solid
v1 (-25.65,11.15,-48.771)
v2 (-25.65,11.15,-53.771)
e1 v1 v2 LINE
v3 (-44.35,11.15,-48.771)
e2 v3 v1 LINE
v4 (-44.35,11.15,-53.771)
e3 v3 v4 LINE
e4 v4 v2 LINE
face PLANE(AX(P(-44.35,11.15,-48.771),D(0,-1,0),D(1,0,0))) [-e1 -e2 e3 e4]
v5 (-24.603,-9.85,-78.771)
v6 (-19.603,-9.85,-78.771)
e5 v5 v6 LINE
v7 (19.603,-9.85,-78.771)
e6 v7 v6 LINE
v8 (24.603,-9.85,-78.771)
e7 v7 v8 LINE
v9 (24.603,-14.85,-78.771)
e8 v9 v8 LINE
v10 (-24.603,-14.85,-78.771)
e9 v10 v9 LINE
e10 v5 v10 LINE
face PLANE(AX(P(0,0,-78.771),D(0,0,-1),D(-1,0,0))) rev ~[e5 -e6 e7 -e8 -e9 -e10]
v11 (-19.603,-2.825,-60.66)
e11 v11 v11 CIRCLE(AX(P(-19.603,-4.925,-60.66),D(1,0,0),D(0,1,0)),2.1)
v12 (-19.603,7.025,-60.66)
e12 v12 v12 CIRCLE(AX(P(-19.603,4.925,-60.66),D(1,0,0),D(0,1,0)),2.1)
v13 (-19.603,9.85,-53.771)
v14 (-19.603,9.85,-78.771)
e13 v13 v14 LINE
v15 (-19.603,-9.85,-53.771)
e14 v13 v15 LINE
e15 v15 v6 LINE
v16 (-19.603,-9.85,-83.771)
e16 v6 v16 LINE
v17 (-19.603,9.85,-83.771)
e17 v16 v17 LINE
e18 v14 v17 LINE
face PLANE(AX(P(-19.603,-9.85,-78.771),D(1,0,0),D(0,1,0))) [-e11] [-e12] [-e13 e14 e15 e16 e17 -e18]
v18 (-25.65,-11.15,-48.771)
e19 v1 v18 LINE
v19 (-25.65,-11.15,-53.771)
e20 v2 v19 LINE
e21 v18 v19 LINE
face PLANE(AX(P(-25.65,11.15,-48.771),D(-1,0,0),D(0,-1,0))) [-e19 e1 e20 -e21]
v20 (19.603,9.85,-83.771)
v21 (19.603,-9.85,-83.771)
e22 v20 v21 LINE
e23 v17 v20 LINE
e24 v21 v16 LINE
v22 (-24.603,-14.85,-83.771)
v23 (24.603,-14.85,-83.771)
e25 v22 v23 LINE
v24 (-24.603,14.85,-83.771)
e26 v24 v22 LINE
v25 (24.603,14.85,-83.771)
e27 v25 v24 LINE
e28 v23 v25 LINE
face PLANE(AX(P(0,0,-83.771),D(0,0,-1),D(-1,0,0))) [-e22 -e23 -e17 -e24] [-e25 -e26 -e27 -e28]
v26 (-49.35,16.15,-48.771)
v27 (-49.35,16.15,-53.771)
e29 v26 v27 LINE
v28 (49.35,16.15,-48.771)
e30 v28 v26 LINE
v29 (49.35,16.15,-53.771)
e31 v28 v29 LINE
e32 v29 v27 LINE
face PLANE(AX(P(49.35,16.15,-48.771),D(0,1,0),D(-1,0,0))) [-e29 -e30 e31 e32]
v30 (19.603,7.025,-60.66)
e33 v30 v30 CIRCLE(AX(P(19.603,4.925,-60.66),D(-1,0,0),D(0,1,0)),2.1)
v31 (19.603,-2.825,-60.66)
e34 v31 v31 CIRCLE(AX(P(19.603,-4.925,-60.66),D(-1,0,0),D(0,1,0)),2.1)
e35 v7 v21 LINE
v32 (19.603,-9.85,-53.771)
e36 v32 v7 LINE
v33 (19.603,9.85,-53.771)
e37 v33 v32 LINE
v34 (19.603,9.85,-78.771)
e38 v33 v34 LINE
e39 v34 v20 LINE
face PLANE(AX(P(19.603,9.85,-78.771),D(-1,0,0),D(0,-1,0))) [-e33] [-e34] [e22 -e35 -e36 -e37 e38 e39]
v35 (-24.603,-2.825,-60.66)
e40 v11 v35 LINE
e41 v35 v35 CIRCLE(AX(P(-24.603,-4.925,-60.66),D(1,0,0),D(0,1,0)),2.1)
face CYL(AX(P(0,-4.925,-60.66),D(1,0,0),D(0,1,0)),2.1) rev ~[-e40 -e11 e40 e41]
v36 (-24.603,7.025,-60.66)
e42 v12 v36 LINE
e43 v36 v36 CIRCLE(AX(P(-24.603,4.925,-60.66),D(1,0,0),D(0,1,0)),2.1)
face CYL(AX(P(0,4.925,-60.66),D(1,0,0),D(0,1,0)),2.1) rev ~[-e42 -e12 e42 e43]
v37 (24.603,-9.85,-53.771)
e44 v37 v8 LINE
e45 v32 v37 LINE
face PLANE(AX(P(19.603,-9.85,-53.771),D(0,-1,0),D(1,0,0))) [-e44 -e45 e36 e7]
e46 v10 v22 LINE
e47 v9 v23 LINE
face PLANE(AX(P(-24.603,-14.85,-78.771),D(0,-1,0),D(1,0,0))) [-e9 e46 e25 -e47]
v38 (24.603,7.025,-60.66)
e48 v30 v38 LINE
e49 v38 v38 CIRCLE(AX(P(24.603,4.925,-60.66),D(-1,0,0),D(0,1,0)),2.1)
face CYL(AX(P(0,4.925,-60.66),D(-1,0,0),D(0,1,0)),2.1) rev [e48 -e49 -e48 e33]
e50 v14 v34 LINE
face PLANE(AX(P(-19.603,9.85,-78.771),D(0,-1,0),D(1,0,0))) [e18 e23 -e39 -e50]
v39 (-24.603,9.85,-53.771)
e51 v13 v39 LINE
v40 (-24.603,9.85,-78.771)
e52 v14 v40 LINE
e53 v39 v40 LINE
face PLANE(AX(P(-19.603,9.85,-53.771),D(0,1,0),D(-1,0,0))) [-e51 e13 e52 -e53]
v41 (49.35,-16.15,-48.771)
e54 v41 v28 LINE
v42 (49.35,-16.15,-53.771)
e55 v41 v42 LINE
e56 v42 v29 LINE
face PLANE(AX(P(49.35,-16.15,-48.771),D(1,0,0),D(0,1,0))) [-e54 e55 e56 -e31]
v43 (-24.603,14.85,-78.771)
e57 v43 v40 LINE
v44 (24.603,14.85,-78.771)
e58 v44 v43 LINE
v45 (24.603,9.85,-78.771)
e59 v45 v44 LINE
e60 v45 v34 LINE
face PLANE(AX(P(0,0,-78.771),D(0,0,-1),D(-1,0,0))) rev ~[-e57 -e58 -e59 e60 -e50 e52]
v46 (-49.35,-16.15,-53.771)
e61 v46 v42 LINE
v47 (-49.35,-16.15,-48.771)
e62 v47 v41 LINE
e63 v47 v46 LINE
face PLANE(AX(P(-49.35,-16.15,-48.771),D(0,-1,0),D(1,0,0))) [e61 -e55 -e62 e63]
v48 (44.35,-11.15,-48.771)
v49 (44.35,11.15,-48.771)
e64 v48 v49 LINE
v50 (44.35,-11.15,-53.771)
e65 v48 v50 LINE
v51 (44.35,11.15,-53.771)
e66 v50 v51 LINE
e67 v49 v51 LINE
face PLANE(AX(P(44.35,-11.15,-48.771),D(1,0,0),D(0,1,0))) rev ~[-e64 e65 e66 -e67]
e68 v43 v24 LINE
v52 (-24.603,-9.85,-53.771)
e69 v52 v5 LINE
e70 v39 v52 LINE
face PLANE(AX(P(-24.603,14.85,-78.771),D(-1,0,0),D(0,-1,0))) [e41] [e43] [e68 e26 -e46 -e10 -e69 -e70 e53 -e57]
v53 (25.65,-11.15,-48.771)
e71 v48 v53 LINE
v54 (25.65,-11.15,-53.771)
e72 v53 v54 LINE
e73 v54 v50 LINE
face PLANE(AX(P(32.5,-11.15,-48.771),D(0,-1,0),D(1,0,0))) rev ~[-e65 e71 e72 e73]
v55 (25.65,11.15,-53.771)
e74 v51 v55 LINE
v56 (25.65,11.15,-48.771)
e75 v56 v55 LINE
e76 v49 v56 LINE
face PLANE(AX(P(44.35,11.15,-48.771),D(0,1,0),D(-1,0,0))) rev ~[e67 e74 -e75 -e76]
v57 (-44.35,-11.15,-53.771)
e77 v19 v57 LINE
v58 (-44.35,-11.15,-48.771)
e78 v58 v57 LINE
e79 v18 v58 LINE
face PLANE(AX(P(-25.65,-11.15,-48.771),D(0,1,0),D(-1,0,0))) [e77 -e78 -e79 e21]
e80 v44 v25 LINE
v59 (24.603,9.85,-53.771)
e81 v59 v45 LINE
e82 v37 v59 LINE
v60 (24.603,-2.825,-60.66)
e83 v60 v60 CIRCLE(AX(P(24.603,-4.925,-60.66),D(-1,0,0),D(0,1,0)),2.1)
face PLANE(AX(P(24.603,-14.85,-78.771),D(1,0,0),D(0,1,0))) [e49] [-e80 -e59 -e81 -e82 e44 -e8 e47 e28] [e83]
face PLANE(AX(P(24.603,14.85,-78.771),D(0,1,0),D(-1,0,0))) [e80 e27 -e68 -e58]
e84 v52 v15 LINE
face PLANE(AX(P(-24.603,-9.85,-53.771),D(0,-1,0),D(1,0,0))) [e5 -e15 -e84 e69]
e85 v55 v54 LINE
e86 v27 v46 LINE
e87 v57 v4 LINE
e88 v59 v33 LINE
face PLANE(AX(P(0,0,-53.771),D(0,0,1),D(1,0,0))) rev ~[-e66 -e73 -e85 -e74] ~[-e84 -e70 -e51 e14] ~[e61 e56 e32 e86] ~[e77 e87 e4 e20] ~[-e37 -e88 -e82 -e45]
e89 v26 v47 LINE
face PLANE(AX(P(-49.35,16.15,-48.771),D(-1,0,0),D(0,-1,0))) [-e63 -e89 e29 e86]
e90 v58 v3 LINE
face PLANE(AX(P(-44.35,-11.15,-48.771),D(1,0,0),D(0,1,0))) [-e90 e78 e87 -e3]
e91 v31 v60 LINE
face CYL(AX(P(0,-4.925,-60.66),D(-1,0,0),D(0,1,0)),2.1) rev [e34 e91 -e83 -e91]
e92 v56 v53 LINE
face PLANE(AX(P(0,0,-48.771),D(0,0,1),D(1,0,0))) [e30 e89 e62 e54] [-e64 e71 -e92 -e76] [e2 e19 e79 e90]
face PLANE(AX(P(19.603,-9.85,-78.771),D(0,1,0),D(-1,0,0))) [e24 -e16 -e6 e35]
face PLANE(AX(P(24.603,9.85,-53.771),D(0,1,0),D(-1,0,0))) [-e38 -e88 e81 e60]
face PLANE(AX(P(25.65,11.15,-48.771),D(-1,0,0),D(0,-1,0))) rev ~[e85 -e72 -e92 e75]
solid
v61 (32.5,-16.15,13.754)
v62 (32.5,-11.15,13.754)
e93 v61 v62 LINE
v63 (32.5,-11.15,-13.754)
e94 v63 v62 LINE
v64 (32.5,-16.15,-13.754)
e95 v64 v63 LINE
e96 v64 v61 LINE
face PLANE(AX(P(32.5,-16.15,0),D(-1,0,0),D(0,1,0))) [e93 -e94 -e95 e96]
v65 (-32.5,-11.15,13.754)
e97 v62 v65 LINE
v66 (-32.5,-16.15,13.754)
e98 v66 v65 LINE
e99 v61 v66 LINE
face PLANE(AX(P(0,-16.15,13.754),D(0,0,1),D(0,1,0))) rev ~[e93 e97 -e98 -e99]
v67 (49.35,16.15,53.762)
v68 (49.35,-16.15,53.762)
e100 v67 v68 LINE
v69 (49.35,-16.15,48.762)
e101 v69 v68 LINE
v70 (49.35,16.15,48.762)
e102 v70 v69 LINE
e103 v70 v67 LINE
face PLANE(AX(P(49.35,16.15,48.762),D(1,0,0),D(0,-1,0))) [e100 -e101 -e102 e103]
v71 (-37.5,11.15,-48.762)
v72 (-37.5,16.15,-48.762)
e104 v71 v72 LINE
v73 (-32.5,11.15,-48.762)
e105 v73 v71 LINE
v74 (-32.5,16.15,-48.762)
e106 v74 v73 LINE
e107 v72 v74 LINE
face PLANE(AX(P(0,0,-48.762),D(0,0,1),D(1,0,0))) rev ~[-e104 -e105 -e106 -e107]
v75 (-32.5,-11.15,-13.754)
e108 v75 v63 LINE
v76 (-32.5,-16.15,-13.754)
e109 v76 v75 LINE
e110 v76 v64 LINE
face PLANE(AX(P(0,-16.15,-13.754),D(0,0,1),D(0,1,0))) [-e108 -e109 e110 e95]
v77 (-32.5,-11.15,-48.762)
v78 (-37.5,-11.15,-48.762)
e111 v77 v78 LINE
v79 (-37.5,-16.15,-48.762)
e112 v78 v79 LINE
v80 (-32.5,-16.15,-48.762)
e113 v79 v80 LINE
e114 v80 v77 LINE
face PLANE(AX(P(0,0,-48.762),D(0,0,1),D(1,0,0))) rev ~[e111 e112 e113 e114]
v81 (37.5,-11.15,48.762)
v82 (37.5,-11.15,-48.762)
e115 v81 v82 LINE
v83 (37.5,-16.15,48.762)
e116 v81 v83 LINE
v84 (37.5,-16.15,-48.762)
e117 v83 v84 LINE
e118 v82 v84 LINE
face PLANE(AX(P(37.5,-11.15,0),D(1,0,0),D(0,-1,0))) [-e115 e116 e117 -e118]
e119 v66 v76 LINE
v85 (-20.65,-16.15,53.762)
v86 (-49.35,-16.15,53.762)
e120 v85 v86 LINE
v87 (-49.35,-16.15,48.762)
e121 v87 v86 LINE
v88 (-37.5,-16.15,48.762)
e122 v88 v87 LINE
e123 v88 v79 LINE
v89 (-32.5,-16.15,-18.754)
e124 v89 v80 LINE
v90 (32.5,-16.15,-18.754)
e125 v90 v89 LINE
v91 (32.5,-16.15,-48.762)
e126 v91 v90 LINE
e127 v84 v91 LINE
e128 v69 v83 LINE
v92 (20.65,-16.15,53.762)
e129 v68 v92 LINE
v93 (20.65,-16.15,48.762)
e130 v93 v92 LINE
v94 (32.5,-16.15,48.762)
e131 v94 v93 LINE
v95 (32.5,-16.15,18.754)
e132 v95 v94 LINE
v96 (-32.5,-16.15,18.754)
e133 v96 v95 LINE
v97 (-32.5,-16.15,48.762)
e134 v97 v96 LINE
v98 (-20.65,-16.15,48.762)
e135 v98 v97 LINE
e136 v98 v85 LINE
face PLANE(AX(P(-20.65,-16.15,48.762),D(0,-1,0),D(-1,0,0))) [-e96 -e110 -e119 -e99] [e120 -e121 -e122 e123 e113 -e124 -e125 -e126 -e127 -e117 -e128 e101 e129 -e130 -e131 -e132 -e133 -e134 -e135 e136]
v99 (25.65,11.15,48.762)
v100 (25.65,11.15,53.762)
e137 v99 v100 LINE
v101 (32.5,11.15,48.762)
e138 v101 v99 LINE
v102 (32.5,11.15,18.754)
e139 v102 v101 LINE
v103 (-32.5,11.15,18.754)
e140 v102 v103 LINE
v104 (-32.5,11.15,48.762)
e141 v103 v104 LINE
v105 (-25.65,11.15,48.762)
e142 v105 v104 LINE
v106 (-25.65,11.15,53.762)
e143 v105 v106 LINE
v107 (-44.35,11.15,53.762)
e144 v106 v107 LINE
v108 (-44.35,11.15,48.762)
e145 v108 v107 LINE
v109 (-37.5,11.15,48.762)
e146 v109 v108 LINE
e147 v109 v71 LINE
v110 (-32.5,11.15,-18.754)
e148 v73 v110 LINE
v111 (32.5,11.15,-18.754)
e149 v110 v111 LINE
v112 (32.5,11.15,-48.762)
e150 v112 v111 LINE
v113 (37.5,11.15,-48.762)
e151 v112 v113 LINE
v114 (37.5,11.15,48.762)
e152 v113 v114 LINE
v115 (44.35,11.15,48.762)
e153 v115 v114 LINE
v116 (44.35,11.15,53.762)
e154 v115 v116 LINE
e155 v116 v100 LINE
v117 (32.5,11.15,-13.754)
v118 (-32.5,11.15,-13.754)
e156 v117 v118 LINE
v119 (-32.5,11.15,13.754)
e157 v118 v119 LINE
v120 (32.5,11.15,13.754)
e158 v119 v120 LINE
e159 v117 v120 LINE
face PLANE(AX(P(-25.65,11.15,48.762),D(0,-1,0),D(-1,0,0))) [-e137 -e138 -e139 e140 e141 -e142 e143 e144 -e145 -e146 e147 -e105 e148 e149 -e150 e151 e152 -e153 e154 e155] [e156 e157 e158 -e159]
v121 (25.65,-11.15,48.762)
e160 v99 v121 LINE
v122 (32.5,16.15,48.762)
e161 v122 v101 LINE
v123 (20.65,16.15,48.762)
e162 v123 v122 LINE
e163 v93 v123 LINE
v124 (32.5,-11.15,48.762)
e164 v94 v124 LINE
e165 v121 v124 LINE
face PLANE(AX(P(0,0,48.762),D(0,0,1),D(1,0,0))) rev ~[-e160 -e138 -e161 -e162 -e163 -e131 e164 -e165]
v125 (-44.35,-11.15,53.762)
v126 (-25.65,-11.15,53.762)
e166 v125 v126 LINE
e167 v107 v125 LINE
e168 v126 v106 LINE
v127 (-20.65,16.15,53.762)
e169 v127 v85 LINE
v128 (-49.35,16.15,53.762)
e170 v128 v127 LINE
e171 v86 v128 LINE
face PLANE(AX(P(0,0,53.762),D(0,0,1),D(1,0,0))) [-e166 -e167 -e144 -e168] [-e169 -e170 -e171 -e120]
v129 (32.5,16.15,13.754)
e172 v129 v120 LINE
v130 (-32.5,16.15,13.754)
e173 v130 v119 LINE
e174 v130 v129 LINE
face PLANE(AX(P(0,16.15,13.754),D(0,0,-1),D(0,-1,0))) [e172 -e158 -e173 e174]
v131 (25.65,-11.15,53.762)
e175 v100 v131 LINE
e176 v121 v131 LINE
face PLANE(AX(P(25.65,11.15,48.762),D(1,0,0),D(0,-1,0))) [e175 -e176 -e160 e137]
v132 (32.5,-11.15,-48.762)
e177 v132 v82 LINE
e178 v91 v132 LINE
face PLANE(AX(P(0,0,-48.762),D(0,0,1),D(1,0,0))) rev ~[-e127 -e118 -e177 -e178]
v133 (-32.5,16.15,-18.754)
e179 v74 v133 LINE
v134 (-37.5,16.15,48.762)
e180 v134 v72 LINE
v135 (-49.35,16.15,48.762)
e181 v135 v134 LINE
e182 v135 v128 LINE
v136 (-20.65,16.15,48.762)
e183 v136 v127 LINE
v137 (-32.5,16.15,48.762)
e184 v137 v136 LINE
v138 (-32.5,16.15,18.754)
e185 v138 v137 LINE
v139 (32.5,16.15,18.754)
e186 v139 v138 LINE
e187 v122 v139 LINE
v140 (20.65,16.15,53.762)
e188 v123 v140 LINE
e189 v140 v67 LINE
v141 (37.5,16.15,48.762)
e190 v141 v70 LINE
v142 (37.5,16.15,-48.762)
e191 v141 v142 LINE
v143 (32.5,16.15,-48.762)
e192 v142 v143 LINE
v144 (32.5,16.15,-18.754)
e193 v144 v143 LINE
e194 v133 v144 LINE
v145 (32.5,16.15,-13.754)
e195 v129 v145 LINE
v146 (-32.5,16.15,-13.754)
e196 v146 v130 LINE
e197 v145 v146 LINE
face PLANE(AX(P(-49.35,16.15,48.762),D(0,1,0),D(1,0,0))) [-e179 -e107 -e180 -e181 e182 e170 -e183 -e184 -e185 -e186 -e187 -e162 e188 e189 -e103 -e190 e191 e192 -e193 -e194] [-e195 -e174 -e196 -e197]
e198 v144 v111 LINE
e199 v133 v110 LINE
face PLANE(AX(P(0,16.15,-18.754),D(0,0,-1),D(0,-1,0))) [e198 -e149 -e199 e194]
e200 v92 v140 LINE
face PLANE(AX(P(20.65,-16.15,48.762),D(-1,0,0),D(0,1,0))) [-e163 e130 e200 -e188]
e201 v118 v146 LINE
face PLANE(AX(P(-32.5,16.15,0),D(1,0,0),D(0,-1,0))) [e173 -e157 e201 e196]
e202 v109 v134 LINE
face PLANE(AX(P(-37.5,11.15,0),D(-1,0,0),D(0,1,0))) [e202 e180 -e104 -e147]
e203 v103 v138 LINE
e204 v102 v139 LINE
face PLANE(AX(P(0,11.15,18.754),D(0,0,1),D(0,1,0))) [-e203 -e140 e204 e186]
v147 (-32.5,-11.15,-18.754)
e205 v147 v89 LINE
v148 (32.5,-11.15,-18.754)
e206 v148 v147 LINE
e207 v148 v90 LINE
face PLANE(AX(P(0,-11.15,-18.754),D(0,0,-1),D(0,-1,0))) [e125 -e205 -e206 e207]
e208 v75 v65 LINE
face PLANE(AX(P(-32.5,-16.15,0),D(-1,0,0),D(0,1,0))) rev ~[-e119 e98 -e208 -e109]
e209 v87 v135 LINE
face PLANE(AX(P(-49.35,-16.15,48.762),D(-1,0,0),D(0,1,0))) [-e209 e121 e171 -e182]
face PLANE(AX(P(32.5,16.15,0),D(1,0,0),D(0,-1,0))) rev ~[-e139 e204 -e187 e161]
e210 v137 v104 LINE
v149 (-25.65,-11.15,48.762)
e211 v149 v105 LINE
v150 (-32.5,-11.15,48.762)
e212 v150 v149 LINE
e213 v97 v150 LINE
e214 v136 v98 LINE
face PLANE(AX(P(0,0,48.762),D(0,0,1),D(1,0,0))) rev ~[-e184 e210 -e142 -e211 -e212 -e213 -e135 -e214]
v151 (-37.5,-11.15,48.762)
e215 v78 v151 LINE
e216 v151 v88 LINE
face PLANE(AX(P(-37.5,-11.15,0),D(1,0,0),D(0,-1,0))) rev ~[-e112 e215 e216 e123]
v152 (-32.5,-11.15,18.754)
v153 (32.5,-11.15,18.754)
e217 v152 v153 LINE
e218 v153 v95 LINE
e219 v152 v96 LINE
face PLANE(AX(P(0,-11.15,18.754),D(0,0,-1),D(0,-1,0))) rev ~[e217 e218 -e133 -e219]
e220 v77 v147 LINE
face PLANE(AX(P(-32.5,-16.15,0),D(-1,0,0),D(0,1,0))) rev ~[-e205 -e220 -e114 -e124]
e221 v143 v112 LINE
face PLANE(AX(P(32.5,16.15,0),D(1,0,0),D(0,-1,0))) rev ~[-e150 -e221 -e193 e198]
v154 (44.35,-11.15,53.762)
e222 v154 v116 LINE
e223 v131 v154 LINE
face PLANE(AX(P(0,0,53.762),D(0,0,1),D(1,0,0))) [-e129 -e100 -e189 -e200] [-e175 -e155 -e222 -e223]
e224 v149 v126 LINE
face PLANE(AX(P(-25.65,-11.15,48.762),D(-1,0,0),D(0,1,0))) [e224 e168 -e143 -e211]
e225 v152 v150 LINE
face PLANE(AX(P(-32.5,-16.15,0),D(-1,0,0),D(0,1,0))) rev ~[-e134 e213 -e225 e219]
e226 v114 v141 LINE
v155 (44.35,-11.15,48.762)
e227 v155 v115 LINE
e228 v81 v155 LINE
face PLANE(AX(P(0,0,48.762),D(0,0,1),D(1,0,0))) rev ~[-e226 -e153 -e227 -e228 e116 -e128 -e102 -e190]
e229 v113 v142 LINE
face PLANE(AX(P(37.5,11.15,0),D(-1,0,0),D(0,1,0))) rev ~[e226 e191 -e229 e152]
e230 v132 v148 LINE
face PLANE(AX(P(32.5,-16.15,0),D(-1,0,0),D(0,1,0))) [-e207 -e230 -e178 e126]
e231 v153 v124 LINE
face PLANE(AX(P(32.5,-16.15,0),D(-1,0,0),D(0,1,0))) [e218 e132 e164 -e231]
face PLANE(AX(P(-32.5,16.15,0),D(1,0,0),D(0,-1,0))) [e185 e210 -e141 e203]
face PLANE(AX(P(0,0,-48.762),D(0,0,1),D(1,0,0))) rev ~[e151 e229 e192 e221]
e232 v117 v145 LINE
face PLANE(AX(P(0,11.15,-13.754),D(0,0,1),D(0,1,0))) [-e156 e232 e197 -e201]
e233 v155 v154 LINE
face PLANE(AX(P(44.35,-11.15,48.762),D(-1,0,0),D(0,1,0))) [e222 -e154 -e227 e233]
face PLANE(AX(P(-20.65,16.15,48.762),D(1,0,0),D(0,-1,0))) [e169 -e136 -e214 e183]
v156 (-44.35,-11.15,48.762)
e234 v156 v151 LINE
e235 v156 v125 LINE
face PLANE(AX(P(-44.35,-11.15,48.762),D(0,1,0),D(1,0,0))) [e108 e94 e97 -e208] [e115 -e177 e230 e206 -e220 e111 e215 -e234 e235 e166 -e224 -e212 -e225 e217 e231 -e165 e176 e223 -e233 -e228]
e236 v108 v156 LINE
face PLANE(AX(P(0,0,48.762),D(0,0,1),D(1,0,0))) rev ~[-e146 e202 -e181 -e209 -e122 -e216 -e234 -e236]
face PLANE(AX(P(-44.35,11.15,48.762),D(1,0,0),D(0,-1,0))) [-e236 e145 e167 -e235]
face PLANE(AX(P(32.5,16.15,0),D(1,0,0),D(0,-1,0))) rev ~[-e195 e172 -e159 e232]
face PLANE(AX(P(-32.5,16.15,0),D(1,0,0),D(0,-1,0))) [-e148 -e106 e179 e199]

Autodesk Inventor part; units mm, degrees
sketch "Sketch1" plane through (0, 0, 0) normal (0, 0, 1) x (1, 0, 0)
  line L0 (-32.5, 11.15) -> (32.5, 11.15) construction
  line L1 (32.5, 11.15) -> (32.5, -11.15) construction
  line L2 (32.5, -11.15) -> (-32.5, -11.15) construction
  line L3 (-32.5, -11.15) -> (-32.5, 11.15) construction
  line L4 (-32.5, 11.15) -> (32.5, -11.15) construction
  line L5 (32.5, 11.15) -> (-32.5, -11.15) construction
  line L6 (-32.5, 11.15) -> (-37.5, 11.15)
  line L7 (-37.5, 11.15) -> (-37.5, 16.15)
  line L8 (-37.5, 16.15) -> (-32.5, 16.15)
  line L9 (-32.5, 16.15) -> (-32.5, 11.15)
  line L10 (32.5, 11.15) -> (37.5, 11.15)
  line L11 (37.5, 11.15) -> (37.5, 16.15)
  line L12 (37.5, 16.15) -> (32.5, 16.15)
  line L13 (32.5, 16.15) -> (32.5, 11.15)
  line L14 (32.5, -11.15) -> (37.5, -11.15)
  line L15 (37.5, -11.15) -> (37.5, -16.15)
  line L16 (37.5, -16.15) -> (32.5, -16.15)
  line L17 (32.5, -16.15) -> (32.5, -11.15)
  line L18 (-32.5, -11.15) -> (-37.5, -11.15)
  line L19 (-37.5, -11.15) -> (-37.5, -16.15)
  line L20 (-37.5, -16.15) -> (-32.5, -16.15)
  line L21 (-32.5, -16.15) -> (-32.5, -11.15)
  point P0 (0, 0)
  dimension "d0" = 65
  dimension "d1" = 22.3
  dimension "d2" = 5
  dimension "d3" = 5
  dimension "d4" = 5
  dimension "d5" = 5
  dimension "d6" = 5
  dimension "d7" = 5
  dimension "d8" = 5
  dimension "d9" = 5
extrude "Extrusion1" add sketch "Sketch1" along normal mid plane 97.524
ref_plane "Work Plane1" through (0, 0, 48.762) normal (0, 0, 1) x (1, 0, 0)
sketch "Sketch2" plane through (0, 0, 48.762) normal (0, 0, 1) x (1, 0, 0)
  line L0 (0, 0) -> (-35, 0) construction
  line L1 (0, 0) -> (35, 0) construction
  line L2 (-49.35, 16.15) -> (-20.65, 16.15)
  line L3 (-20.65, 16.15) -> (-20.65, -16.15)
  line L4 (-20.65, -16.15) -> (-49.35, -16.15)
  line L5 (-49.35, -16.15) -> (-49.35, 16.15)
  line L6 (-49.35, 16.15) -> (-20.65, -16.15) construction
  line L7 (-20.65, 16.15) -> (-49.35, -16.15) construction
  line L8 (20.65, 16.15) -> (49.35, 16.15)
  line L9 (49.35, 16.15) -> (49.35, -16.15)
  line L10 (49.35, -16.15) -> (20.65, -16.15)
  line L11 (20.65, -16.15) -> (20.65, 16.15)
  line L12 (20.65, 16.15) -> (49.35, -16.15) construction
  line L13 (49.35, 16.15) -> (20.65, -16.15) construction
  line L14 (-25.65, 11.15) -> (-44.35, 11.15)
  line L15 (-44.35, 11.15) -> (-44.35, -11.15)
  line L16 (-44.35, -11.15) -> (-25.65, -11.15)
  line L17 (-25.65, -11.15) -> (-25.65, 11.15)
  line L18 (44.35, 11.15) -> (25.65, 11.15)
  line L19 (25.65, 11.15) -> (25.65, -11.15)
  line L20 (25.65, -11.15) -> (44.35, -11.15)
  line L21 (44.35, -11.15) -> (44.35, 11.15)
  dimension "d13" = 35
  dimension "d14" = 35
  dimension "d15" = 28.7
  dimension "d16" = 32.3
  dimension "d17" = 28.7
  dimension "d18" = 32.3
  dimension "d19" = 5
  dimension "d20" = 5
extrude "Extrusion2" add sketch "Sketch2" along normal blind 5
ref_plane "Work Plane2" through (0, 0, -48.771) normal (0, 0, 1) x (1, 0, 0)
sketch "Sketch3" plane through (0, 0, -48.771) normal (0, 0, 1) x (1, 0, 0)
  line L0 (49.35, 16.15) -> (-49.35, 16.15)
  line L1 (-49.35, 16.15) -> (-49.35, -16.15)
  line L2 (-49.35, -16.15) -> (49.35, -16.15)
  line L3 (49.35, -16.15) -> (49.35, 16.15)
  line L4 (49.35, 16.15) -> (-49.35, -16.15) construction
  line L5 (-49.35, 16.15) -> (49.35, -16.15) construction
  line L6 (0, 0) -> (35, 0) construction
  line L7 (0, 0) -> (-35, 0) construction
  line L8 (32.5, -11.15) -> (25.65, -11.15) projected
  line L9 (44.35, 11.15) -> (25.65, 11.15)
  line L10 (25.65, 11.15) -> (25.65, -11.15)
  line L11 (25.65, -11.15) -> (44.35, -11.15)
  line L12 (44.35, -11.15) -> (44.35, 11.15)
  line L13 (44.35, 11.15) -> (25.65, -11.15) construction
  line L14 (25.65, 11.15) -> (44.35, -11.15) construction
  line L15 (-44.35, -11.15) -> (-44.35, 11.15) projected
  line L16 (-25.65, -11.15) -> (-44.35, -11.15)
  line L17 (-44.35, -11.15) -> (-44.35, 11.15)
  line L18 (-44.35, 11.15) -> (-25.65, 11.15)
  line L19 (-25.65, 11.15) -> (-25.65, -11.15)
  line L20 (-25.65, -11.15) -> (-44.35, 11.15) construction
  line L21 (-44.35, -11.15) -> (-25.65, 11.15) construction
  point P0 (30, -11.15)
  dimension "d24" = 98.7
  dimension "d25" = 32.3
  dimension "d26" = 35
  dimension "d27" = 35
extrude "Extrusion3" add sketch "Sketch3" against normal blind 5
sketch "Sketch4" plane through (0, 0, 0) normal (1, 0, 0) x (0, 1, 0)
  line L0 (11.15, -48.762) -> (11.15, 48.762) projected
  line L1 (11.15, 18.754) -> (16.15, 18.754)
  line L2 (16.15, 18.754) -> (16.15, 13.754)
  line L3 (16.15, 13.754) -> (11.15, 13.754)
  line L4 (11.15, 13.754) -> (11.15, 18.754)
  line L5 (-16.15, 48.762) -> (16.15, 48.762) projected
  line L6 (11.15, -13.754) -> (16.15, -13.754)
  line L7 (16.15, -13.754) -> (16.15, -18.754)
  line L8 (16.15, -18.754) -> (11.15, -18.754)
  line L9 (11.15, -18.754) -> (11.15, -13.754)
  line L10 (16.15, -48.762) -> (11.15, -48.762) projected
  line L11 (-11.15, 48.762) -> (-11.15, -48.762) projected
  line L12 (-11.15, 18.754) -> (-16.15, 18.754)
  line L13 (-16.15, 18.754) -> (-16.15, 13.754)
  line L14 (-16.15, 13.754) -> (-11.15, 13.754)
  line L15 (-11.15, 13.754) -> (-11.15, 18.754)
  line L16 (-11.15, -18.754) -> (-16.15, -18.754)
  line L17 (-16.15, -18.754) -> (-16.15, -13.754)
  line L18 (-16.15, -13.754) -> (-11.15, -13.754)
  line L19 (-11.15, -13.754) -> (-11.15, -18.754)
  line L20 (-11.15, -48.762) -> (-16.15, -48.762) projected
  point P0 (0, 0)
  dimension "d30" = 5
  dimension "d31" = 5
  dimension "d32" = 30.008
  dimension "d33" = 5
  dimension "d34" = 5
  dimension "d35" = 30.008
  dimension "d36" = 5
  dimension "d37" = 5
  dimension "d38" = 5
  dimension "d39" = 5
  dimension "d40" = 30.008
  dimension "d41" = 30.008
extrude "Extrusion4" add sketch "Sketch4" along normal mid plane 65
sketch "Sketch7" plane through (0, 0, -53.771) normal (0, 0, -1) x (-1, 0, 0)
  line L0 (-24.603, 9.85) -> (24.603, 9.85)
  line L1 (24.603, 9.85) -> (24.603, -9.85)
  line L2 (24.603, -9.85) -> (-24.603, -9.85)
  line L3 (-24.603, -9.85) -> (-24.603, 9.85)
  line L4 (-24.603, 9.85) -> (24.603, -9.85) construction
  line L5 (24.603, 9.85) -> (-24.603, -9.85) construction
  line L6 (19.603, 9.85) -> (19.603, -9.85)
  line L7 (-19.603, 9.85) -> (-19.603, -9.85)
  point P0 (0, 0)
  dimension "d54" = 49.206
  dimension "d55" = 19.7
  dimension "d56" = 5
  dimension "d57" = 5
extrude "Extrusion7" add sketch "Sketch7" along normal blind 25 contours L0 L7 L2 L3 | L0 L1 L2 L6
ref_plane "Work Plane3" through (0, 0, -78.771) normal (0, 0, -1) x (-1, 0, 0)
sketch "Sketch8" plane through (0, 0, -78.771) normal (0, 0, -1) x (-1, 0, 0)
  line L0 (-24.603, 14.85) -> (24.603, 14.85)
  line L1 (24.603, 14.85) -> (24.603, -14.85)
  line L2 (24.603, -14.85) -> (-24.603, -14.85)
  line L3 (-24.603, -14.85) -> (-24.603, 14.85)
  line L4 (-24.603, 14.85) -> (24.603, -14.85) construction
  line L5 (24.603, 14.85) -> (-24.603, -14.85) construction
  line L6 (19.603, 9.85) -> (-19.603, 9.85)
  line L7 (-19.603, 9.85) -> (-19.603, -9.85)
  line L8 (-19.603, -9.85) -> (19.603, -9.85)
  line L9 (19.603, -9.85) -> (19.603, 9.85)
  point P0 (0, 0)
  dimension "d61" = 49.206
  dimension "d62" = 29.7
  dimension "d63" = 5
extrude "Extrusion8" add sketch "Sketch8" along normal blind 5
sketch "Sketch9" plane through (0, 0, 0) normal (1, 0, 0) x (0, 1, 0)
  circle A0 centre (4.925, -60.66) radius 2.1
  line L0 (14.85, -78.771) -> (9.85, -78.771) projected
  line L1 (9.85, -53.771) -> (9.85, -78.771) projected
  circle A1 centre (-4.925, -60.66) radius 2.1
  line L2 (-9.85, -78.771) -> (-14.85, -78.771) projected
  line L3 (-9.85, -53.771) -> (-9.85, -78.771) projected
  point P0 (0, 0)
  dimension "d66" = 4.2
  dimension "d67" = 18.111
  dimension "d68" = 4.925
  dimension "d69" = 4.2
  dimension "d70" = 18.111
  dimension "d71" = 4.925
extrude "Extrusion9" cut sketch "Sketch9" along normal through all both and the other way through all
properties part number "MTail"
